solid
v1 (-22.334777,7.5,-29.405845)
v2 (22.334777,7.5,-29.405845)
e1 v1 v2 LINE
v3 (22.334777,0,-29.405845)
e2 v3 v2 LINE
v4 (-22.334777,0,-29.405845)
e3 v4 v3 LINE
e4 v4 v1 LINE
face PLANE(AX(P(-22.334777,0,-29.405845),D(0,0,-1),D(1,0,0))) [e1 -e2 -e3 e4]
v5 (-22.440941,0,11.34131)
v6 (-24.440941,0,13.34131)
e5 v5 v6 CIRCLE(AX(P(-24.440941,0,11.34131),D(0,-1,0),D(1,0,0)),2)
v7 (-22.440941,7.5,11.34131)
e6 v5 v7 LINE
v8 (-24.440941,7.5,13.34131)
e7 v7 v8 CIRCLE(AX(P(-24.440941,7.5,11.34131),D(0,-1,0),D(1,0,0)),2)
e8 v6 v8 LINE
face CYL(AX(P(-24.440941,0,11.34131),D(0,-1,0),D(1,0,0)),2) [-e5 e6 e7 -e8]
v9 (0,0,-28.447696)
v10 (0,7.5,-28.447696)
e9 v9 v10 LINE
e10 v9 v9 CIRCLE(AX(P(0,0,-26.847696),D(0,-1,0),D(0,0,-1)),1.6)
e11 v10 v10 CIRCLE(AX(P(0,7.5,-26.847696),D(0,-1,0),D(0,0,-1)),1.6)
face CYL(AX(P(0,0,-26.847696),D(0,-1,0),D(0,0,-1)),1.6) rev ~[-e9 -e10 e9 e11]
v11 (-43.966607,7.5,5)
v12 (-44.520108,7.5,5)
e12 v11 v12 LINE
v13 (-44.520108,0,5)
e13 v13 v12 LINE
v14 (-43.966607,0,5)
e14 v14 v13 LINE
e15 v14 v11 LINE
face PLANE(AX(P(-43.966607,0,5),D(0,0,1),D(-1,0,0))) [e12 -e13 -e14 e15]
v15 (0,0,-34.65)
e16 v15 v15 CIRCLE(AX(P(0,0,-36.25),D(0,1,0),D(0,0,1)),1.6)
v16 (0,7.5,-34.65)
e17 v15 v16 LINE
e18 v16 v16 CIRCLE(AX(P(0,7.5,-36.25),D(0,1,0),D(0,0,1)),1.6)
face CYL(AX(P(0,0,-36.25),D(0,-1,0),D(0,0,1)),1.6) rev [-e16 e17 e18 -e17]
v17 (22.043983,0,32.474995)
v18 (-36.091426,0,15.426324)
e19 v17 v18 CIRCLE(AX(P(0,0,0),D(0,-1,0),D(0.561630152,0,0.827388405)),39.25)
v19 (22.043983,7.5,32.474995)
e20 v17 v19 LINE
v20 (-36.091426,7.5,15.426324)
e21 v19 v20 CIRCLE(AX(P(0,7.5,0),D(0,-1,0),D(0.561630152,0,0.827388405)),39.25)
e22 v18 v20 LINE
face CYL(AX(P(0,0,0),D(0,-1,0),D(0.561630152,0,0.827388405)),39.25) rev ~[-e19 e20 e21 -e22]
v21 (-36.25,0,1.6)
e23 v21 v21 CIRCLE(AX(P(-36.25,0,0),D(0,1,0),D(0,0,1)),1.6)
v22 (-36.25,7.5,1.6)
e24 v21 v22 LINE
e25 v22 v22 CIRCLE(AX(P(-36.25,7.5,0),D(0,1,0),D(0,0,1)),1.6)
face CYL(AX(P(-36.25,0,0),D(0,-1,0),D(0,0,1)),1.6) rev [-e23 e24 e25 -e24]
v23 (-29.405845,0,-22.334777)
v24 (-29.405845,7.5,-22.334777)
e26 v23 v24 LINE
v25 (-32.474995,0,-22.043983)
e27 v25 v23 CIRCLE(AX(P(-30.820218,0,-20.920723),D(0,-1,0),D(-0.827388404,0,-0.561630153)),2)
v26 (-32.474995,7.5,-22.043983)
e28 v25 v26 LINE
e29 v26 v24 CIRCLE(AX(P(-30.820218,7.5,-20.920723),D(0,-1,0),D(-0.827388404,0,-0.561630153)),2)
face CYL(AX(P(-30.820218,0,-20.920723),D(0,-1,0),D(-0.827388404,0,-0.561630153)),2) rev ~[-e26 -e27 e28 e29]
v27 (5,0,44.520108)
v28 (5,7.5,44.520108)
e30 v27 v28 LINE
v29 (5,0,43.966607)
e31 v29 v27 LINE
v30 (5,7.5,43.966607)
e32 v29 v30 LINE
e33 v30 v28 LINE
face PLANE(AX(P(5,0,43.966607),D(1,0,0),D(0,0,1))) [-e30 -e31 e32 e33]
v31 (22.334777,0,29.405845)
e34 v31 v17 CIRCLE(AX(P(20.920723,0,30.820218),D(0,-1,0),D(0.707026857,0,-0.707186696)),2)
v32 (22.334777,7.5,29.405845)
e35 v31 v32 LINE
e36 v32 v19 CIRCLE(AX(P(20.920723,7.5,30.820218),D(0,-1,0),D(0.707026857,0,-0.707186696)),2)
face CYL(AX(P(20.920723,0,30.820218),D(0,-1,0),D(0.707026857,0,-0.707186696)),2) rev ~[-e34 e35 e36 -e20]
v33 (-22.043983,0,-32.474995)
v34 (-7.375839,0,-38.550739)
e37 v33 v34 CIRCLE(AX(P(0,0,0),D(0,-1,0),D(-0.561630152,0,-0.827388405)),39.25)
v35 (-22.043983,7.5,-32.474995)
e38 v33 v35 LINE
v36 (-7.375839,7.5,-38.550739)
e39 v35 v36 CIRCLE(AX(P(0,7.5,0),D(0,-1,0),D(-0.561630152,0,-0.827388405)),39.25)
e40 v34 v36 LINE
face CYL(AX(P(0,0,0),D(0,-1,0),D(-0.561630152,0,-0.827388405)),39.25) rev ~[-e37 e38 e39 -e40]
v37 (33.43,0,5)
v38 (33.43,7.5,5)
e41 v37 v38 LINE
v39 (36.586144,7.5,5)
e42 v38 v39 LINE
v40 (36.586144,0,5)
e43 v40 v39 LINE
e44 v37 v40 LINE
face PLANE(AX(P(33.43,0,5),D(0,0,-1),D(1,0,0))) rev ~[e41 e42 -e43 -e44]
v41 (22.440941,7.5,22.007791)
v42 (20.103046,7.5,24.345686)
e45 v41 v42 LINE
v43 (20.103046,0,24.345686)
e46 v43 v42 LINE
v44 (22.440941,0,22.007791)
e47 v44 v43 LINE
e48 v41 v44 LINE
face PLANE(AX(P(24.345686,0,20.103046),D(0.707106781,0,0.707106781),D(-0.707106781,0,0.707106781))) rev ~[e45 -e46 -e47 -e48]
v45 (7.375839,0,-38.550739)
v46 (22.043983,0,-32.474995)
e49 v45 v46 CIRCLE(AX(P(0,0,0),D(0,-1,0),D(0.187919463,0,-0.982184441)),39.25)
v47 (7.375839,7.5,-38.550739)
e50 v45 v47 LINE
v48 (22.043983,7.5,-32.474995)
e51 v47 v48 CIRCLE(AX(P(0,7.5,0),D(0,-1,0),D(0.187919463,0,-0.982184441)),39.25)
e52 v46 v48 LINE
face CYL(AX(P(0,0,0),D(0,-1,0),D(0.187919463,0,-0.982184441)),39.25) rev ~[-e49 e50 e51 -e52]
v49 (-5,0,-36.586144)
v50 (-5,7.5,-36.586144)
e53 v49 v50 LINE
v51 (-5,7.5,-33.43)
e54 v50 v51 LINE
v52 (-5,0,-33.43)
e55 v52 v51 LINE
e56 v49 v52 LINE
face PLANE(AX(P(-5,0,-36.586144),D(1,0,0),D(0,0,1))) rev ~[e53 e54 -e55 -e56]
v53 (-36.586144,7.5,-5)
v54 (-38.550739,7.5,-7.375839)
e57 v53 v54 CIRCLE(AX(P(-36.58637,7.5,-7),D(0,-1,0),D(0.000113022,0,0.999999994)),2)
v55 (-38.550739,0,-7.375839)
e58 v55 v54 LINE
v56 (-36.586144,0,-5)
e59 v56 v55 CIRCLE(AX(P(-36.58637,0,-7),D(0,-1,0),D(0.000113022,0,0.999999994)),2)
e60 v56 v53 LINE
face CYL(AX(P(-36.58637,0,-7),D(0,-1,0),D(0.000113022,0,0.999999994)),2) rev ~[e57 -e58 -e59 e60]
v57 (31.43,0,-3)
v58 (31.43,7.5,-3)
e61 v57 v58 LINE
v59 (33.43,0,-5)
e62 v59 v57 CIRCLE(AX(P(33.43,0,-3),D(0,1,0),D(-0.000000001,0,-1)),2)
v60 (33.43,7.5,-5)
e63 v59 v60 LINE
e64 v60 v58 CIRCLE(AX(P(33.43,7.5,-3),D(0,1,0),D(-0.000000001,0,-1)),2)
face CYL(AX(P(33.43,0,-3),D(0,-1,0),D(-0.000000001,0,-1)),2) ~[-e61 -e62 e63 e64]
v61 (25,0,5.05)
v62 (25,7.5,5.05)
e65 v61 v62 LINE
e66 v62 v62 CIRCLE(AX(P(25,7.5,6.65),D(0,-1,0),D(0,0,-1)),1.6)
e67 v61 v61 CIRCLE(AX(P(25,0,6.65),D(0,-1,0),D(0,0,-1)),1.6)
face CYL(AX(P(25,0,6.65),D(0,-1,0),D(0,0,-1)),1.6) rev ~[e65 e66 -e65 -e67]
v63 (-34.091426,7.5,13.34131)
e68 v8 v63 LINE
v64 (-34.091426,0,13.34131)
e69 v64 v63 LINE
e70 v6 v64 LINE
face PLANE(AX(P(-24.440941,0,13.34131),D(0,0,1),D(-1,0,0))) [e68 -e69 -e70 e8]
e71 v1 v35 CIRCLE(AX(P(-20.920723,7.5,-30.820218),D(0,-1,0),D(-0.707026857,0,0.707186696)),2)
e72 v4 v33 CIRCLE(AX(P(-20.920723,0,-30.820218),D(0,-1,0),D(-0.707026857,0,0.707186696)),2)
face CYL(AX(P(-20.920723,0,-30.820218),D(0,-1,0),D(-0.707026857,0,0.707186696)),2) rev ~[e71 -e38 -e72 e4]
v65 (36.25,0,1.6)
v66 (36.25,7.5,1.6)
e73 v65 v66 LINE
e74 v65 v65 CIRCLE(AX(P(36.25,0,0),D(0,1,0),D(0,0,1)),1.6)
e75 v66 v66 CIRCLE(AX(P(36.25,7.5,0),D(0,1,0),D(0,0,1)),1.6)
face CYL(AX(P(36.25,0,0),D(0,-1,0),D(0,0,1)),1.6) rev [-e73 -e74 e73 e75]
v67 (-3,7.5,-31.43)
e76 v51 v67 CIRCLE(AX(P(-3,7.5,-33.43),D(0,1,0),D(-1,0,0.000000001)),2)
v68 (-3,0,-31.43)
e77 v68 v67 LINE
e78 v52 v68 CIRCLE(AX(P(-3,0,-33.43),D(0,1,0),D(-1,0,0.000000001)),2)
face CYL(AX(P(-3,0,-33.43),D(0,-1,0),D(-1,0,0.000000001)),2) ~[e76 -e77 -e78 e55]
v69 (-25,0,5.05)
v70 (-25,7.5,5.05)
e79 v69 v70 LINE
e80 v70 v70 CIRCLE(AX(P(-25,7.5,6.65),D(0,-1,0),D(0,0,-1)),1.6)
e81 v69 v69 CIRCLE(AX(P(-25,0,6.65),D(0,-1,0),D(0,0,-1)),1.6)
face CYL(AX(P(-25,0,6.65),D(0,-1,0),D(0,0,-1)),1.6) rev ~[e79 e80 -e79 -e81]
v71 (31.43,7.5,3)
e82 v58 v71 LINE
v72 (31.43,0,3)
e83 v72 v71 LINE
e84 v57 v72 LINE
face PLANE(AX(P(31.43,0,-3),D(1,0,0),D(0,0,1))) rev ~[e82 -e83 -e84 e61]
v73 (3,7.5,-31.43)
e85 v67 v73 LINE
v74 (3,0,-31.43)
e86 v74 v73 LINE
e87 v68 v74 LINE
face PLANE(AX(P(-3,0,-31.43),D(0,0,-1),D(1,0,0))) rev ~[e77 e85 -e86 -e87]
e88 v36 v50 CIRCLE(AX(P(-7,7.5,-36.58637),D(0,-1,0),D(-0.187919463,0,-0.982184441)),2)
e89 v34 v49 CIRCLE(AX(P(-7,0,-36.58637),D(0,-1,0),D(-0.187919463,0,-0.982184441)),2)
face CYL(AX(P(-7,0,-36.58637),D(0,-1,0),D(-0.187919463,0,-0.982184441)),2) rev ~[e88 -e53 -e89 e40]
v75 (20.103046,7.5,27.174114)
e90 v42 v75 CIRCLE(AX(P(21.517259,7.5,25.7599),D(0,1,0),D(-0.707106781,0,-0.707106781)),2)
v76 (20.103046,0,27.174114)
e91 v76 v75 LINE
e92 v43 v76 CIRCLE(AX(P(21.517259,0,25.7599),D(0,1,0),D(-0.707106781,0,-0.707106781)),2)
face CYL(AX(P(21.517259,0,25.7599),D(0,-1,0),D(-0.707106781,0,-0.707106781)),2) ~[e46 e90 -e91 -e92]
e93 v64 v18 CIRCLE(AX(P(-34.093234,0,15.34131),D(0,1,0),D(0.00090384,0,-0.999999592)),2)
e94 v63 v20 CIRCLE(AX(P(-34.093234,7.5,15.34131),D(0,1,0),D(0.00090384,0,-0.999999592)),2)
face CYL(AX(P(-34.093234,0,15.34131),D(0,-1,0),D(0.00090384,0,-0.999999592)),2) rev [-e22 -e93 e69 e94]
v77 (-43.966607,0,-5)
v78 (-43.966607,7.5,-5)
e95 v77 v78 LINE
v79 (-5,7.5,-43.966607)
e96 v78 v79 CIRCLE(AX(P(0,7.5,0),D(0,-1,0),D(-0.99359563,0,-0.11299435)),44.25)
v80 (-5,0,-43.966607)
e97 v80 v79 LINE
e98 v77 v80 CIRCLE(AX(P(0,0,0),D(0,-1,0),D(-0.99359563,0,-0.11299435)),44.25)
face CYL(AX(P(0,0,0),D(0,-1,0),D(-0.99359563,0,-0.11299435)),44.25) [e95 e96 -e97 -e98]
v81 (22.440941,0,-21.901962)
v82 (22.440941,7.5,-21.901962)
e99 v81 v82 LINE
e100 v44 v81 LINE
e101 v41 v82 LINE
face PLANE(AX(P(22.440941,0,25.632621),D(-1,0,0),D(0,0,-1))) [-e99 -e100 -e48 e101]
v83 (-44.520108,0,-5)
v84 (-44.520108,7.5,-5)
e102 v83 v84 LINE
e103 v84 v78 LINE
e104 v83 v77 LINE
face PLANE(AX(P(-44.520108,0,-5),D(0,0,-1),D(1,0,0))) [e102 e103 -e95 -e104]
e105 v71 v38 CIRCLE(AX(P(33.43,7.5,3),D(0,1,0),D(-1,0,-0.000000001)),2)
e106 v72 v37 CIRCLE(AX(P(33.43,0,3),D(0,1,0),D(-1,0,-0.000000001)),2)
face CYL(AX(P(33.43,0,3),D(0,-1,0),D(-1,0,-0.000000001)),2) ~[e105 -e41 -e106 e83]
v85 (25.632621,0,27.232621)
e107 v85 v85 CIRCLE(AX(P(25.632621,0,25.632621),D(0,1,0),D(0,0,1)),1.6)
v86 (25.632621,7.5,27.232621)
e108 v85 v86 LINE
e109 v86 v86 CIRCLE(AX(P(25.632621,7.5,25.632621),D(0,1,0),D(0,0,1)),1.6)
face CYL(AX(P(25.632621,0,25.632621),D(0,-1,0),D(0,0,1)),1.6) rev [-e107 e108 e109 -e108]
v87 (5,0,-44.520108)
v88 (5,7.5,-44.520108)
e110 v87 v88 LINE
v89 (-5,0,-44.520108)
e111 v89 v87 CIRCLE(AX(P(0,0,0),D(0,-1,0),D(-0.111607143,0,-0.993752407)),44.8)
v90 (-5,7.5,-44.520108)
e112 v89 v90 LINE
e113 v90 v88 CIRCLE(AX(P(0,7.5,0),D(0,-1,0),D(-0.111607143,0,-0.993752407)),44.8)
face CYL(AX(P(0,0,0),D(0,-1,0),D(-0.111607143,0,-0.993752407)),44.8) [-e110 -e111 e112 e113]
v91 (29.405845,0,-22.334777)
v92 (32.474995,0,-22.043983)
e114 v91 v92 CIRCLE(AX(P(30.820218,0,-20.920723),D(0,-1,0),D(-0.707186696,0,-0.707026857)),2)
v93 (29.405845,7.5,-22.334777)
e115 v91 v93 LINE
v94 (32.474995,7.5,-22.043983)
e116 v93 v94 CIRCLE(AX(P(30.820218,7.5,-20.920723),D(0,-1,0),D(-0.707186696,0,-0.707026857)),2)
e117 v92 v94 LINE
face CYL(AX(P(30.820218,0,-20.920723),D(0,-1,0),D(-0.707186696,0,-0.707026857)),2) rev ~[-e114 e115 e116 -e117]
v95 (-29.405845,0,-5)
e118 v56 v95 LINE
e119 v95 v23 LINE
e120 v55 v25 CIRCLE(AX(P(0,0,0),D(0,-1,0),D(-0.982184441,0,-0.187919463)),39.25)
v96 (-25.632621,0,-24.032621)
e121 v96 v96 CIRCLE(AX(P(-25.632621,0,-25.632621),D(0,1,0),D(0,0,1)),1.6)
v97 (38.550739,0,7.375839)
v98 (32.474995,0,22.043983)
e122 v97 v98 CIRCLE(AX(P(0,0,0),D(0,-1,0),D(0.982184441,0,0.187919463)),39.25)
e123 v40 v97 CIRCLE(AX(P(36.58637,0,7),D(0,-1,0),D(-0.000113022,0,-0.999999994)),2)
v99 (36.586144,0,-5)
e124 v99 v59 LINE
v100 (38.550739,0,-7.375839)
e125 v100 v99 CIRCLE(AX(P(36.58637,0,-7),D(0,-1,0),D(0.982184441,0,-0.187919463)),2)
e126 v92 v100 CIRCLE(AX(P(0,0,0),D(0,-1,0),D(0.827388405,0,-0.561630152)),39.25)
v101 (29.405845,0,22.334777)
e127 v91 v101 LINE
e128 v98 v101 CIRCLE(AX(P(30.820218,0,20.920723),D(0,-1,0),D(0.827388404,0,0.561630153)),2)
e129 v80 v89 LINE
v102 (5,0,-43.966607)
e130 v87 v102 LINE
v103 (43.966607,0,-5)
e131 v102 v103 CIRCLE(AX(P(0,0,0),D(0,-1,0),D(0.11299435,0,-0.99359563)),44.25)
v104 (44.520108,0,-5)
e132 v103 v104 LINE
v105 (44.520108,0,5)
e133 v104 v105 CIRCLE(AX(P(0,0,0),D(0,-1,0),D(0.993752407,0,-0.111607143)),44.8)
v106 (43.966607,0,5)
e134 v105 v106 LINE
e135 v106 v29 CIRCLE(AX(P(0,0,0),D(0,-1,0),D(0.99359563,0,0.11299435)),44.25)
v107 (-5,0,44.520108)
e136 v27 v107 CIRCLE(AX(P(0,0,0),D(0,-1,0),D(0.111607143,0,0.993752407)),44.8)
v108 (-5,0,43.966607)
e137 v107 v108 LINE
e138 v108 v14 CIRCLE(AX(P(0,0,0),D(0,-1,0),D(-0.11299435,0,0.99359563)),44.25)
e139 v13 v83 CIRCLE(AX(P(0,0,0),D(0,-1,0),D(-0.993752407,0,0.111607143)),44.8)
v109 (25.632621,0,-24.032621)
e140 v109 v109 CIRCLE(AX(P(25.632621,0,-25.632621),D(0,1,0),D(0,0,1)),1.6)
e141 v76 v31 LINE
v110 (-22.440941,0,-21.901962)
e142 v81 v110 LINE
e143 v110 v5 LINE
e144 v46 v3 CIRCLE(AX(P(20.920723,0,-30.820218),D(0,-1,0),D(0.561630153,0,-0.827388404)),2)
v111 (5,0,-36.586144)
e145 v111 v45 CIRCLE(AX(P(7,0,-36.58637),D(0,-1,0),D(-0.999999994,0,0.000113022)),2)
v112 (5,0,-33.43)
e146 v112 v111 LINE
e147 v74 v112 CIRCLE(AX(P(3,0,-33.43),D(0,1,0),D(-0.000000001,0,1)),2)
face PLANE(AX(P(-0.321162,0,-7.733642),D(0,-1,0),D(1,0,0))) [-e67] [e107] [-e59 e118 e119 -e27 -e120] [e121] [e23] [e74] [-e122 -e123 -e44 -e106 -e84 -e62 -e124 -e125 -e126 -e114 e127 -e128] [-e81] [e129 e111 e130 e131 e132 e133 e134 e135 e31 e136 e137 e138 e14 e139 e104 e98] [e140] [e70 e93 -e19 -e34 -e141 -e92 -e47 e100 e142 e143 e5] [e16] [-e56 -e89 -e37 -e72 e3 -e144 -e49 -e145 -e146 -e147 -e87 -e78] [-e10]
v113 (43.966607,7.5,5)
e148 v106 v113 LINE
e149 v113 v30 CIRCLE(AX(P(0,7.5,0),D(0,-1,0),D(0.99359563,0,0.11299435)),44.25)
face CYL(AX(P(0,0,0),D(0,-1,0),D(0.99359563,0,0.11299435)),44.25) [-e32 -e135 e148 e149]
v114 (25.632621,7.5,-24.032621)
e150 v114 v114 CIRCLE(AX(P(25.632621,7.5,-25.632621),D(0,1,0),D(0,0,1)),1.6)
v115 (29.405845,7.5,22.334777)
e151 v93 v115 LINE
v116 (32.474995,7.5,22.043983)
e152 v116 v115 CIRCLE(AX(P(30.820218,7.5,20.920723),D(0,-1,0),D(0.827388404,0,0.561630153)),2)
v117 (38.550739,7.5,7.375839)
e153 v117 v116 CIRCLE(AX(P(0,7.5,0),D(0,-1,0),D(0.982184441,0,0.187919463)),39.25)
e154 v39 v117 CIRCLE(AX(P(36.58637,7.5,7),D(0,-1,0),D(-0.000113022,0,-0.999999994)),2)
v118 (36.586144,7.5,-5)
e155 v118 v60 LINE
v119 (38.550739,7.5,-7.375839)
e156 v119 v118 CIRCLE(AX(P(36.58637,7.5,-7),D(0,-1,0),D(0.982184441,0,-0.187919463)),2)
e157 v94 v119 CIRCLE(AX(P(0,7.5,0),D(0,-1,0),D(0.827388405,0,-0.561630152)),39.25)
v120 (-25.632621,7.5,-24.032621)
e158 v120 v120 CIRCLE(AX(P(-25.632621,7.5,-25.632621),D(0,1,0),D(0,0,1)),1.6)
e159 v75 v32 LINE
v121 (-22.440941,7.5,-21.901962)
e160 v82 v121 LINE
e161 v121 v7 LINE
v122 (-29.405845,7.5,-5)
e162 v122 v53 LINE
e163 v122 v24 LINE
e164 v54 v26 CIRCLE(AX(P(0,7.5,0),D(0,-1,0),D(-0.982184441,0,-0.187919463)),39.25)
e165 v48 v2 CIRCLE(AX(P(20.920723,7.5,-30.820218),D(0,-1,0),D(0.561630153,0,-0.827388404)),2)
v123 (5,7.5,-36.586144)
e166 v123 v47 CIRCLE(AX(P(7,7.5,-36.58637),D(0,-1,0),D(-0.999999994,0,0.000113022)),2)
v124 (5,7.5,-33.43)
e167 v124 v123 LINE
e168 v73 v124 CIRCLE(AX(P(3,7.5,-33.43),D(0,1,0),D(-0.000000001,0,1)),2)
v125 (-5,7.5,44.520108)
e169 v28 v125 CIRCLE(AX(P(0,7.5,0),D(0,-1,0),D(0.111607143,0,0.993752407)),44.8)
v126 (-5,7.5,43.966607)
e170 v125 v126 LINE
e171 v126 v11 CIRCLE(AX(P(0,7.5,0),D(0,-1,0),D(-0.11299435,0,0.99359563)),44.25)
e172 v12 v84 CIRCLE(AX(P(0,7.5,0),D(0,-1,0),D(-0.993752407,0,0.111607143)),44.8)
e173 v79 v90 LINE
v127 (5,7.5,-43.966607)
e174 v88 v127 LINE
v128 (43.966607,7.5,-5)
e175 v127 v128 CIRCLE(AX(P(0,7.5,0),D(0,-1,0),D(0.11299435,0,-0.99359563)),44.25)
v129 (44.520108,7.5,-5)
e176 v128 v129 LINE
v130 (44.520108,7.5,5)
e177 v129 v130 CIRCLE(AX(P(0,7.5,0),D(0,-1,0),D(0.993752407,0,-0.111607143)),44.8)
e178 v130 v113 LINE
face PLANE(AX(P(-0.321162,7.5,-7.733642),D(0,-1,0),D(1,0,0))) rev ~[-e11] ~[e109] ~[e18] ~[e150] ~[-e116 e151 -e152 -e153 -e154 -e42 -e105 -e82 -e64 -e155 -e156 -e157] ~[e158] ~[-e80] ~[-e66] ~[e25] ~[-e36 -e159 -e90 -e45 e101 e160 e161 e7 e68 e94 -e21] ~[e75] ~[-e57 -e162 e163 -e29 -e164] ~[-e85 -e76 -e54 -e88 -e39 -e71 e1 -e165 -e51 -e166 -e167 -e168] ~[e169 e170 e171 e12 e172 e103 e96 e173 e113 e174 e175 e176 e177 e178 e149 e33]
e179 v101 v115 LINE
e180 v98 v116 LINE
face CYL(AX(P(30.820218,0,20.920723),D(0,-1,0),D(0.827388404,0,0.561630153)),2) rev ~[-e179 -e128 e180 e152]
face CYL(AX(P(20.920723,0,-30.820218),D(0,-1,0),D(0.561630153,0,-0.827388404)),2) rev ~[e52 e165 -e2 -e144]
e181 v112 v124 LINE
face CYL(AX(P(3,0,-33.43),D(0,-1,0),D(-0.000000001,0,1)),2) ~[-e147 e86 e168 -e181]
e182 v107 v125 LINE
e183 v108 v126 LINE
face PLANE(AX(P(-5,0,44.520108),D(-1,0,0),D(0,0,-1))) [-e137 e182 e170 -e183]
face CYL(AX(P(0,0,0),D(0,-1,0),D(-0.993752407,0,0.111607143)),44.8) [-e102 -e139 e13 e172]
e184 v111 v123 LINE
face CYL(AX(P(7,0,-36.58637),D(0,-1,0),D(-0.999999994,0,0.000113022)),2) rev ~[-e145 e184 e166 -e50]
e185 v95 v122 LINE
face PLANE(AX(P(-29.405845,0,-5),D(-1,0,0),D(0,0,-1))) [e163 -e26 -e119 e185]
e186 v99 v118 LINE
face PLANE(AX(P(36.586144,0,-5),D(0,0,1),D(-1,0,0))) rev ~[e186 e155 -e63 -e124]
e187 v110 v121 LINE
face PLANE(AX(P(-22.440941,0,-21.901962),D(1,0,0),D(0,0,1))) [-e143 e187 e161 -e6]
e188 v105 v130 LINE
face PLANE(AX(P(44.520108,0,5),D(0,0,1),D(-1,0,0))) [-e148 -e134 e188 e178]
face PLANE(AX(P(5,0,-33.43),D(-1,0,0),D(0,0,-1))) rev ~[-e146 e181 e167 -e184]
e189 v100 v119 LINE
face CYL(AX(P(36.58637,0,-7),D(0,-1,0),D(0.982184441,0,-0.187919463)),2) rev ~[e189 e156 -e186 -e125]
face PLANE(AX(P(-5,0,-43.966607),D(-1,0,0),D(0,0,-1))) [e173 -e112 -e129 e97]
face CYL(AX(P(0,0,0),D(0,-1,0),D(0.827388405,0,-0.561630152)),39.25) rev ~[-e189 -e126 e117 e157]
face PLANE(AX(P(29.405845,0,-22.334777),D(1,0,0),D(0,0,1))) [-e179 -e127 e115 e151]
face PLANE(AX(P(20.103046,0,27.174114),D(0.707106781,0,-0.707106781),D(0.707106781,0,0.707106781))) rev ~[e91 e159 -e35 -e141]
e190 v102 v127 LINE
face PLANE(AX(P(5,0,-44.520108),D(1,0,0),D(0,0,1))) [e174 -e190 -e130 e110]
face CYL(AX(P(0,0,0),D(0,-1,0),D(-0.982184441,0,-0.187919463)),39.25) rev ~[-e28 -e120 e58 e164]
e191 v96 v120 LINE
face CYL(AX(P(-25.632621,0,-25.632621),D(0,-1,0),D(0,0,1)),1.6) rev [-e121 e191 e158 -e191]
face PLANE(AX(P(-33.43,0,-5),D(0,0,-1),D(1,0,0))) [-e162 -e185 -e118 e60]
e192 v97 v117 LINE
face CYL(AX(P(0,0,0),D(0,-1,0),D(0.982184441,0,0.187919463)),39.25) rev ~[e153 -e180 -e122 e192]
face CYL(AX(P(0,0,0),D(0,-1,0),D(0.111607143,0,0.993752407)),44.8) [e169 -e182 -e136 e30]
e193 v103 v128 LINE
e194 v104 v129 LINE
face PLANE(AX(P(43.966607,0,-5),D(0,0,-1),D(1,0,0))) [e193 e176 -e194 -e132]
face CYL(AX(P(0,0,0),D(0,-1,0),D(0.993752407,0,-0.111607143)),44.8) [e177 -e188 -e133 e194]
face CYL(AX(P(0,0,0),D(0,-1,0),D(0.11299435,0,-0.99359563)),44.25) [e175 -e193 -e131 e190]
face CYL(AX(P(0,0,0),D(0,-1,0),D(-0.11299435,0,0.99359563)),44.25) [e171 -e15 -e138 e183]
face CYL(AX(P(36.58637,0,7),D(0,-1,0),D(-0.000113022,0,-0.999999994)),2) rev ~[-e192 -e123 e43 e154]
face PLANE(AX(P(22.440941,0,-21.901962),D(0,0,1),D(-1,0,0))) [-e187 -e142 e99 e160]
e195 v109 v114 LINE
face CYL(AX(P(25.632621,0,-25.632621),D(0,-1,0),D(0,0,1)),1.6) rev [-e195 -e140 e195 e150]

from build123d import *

# Parameters (mm, degrees)
SKETCH2_R           = 1.6
BOSS_EXTRUDE2_DEPTH = 7.5
SKETCH3_R           = 1.6
BOSS_EXTRUDE3_DEPTH = 7.5


with BuildPart() as part:
    # Sketch2 → Boss-Extrude2 (new body)
    with BuildSketch(Plane(origin=(0, 0, 0), x_dir=(1, 0, 0), z_dir=(0, 1, 0))):
        with BuildLine():
            Line((43.966606646, 5), (44.520107816, 5))
            ThreePointArc((44.520107816, 5), (44.8, 0), (44.520107816, -5))
            Line((44.520107816, -5), (43.966606646, -5))
            ThreePointArc((43.966606646, -5), (31.289475067, -31.289475068), (5, -43.966606646))
            Line((5, -43.966606646), (5, -44.520107816))
            ThreePointArc((5, -44.520107816), (0, -44.8), (-5, -44.520107816))
            Line((-5, -44.520107816), (-5, -43.966606646))
            ThreePointArc((-5, -43.966606646), (-31.289475068, -31.289475067), (-43.966606646, -5))
            Line((-43.966606646, -5), (-44.520107816, -5))
            ThreePointArc((-44.520107816, -5), (-44.8, 0), (-44.520107816, 5))
            Line((-44.520107816, 5), (-43.966606646, 5))
            ThreePointArc((-43.966606646, 5), (-31.289475067, 31.289475068), (-5, 43.966606646))
            Line((-5, 43.966606646), (-5, 44.520107816))
            ThreePointArc((-5, 44.520107816), (0, 44.8), (5, 44.520107816))
            Line((5, 44.520107816), (5, 43.966606646))
            ThreePointArc((5, 43.966606646), (31.289475068, 31.289475067), (43.966606646, 5))
        make_face()
        with Locations(Location((36.25, 0, 0), (0, 0, 270))):
            Circle(SKETCH2_R, mode=Mode.SUBTRACT)
        with Locations(Location((25.632620818, -25.632620818, 0), (0, 0, 270))):
            Circle(SKETCH2_R, mode=Mode.SUBTRACT)
        with Locations(Location((-36.25, 0, 0), (0, 0, 270))):
            Circle(SKETCH2_R, mode=Mode.SUBTRACT)
        with Locations(Location((-25.632620818, 25.632620818, 0), (0, 0, 270))):
            Circle(SKETCH2_R, mode=Mode.SUBTRACT)
        with Locations(Location((0, 36.25, 0), (0, 0, 270))):
            Circle(SKETCH2_R, mode=Mode.SUBTRACT)
        with Locations(Location((25.632620818, 25.632620818, 0), (0, 0, 270))):
            Circle(SKETCH2_R, mode=Mode.SUBTRACT)
        with BuildLine():
            Line((31.43, 3), (31.43, -3))
            ThreePointArc((31.43, -3), (32.015786437, -4.414213563), (33.43, -5))
            Line((33.43, -5), (36.58614437, -5))
            ThreePointArc((36.58614437, -5), (38.127674053, -5.725487102), (38.550739297, -7.375838913))
            ThreePointArc((38.550739297, -7.375838913), (36.262271651, -15.02032472), (32.474994889, -22.043983464))
            ThreePointArc((32.474994889, -22.043983464), (31.00886763, -22.911806118), (29.405844687, -22.334776876))
            Line((29.405844687, -22.334776876), (27.174113601, -20.103045789))
            ThreePointArc((27.174113601, -20.103045789), (25.759900039, -19.517259351), (24.345686476, -20.103045789))
            Line((24.345686476, -20.103045789), (20.103045789, -24.345686476))
            ThreePointArc((20.103045789, -24.345686476), (19.517259351, -25.759900039), (20.103045789, -27.174113601))
            Line((20.103045789, -27.174113601), (22.334776875, -29.405844688))
            ThreePointArc((22.334776875, -29.405844688), (22.911806119, -31.00886763), (22.043983464, -32.474994889))
            ThreePointArc((22.043983464, -32.474994889), (-15.02032472, -36.262271651), (-38.550739297, -7.375838914))
            ThreePointArc((-38.550739297, -7.375838914), (-38.127674054, -5.725487102), (-36.58614437, -5))
            Line((-36.58614437, -5), (-33.43, -5))
            ThreePointArc((-33.43, -5), (-32.015786438, -4.414213562), (-31.43, -3))
            Line((-31.43, -3), (-31.43, 3))
            ThreePointArc((-31.43, 3), (-32.015786437, 4.414213563), (-33.43, 5))
            Line((-33.43, 5), (-36.58614437, 5))
            ThreePointArc((-36.58614437, 5), (-38.127674053, 5.725487102), (-38.550739297, 7.375838913))
            ThreePointArc((-38.550739297, 7.375838913), (-36.262271651, 15.02032472), (-32.474994889, 22.043983464))
            ThreePointArc((-32.474994889, 22.043983464), (-31.00886763, 22.911806118), (-29.405844687, 22.334776876))
            Line((-29.405844687, 22.334776876), (-27.174113601, 20.103045789))
            ThreePointArc((-27.174113601, 20.103045789), (-25.759900039, 19.517259351), (-24.345686476, 20.103045789))
            Line((-24.345686476, 20.103045789), (-20.103045789, 24.345686476))
            ThreePointArc((-20.103045789, 24.345686476), (-19.517259351, 25.759900039), (-20.103045789, 27.174113601))
            Line((-20.103045789, 27.174113601), (-22.334776875, 29.405844688))
            ThreePointArc((-22.334776875, 29.405844688), (-22.911806119, 31.00886763), (-22.043983464, 32.474994889))
            ThreePointArc((-22.043983464, 32.474994889), (-15.020324721, 36.262271651), (-7.375838914, 38.550739297))
            ThreePointArc((-7.375838914, 38.550739297), (-5.725487102, 38.127674054), (-5, 36.58614437))
            Line((-5, 36.58614437), (-5, 33.43))
            ThreePointArc((-5, 33.43), (-4.414213562, 32.015786438), (-3, 31.43))
            Line((-3, 31.43), (3, 31.43))
            ThreePointArc((3, 31.43), (4.414213563, 32.015786437), (5, 33.43))
            Line((5, 33.43), (5, 36.58614437))
            ThreePointArc((5, 36.58614437), (5.725487102, 38.127674053), (7.375838913, 38.550739297))
            ThreePointArc((7.375838913, 38.550739297), (15.02032472, 36.262271651), (22.043983464, 32.474994889))
            ThreePointArc((22.043983464, 32.474994889), (22.911806118, 31.00886763), (22.334776876, 29.405844687))
            Line((22.334776876, 29.405844687), (20.103045789, 27.174113601))
            ThreePointArc((20.103045789, 27.174113601), (19.517259351, 25.759900039), (20.103045789, 24.345686476))
            Line((20.103045789, 24.345686476), (24.345686476, 20.103045789))
            ThreePointArc((24.345686476, 20.103045789), (25.759900039, 19.517259351), (27.174113601, 20.103045789))
            Line((27.174113601, 20.103045789), (29.405844688, 22.334776875))
            ThreePointArc((29.405844688, 22.334776875), (31.00886763, 22.911806119), (32.474994889, 22.043983464))
            ThreePointArc((32.474994889, 22.043983464), (36.262271651, 15.020324721), (38.550739297, 7.375838914))
            ThreePointArc((38.550739297, 7.375838914), (38.127674054, 5.725487102), (36.58614437, 5))
            Line((36.58614437, 5), (33.43, 5))
            ThreePointArc((33.43, 5), (32.015786438, 4.414213562), (31.43, 3))
        make_face(mode=Mode.SUBTRACT)
    extrude(amount=BOSS_EXTRUDE2_DEPTH)

    # Sketch3 → Boss-Extrude3 (add)
    with BuildSketch(Plane.XZ):
        with BuildLine():
            Line((22.440941356, -21.901962064), (-22.440941356, -21.901962064))
            Line((-22.440941356, -21.901962064), (-22.440941356, 6.65))
            Line((-22.440941356, 6.65), (-22.440941356, 11.341310409))
            ThreePointArc((-22.440941356, 11.341310409), (-23.026727793, 12.755523971), (-24.440941356, 13.341310409))
            Line((-24.440941356, 13.341310409), (-29.405844687, 13.341310409))
            Line((-29.405844687, 13.341310409), (-34.091425962, 13.341310409))
            ThreePointArc((-34.091425962, 13.341310409), (-35.536566009, 13.956827134), (-36.091425962, 15.426323995))
            Line((-36.091425962, 15.426323995), (-39.579540156, 15.426323995))
            Line((-39.579540156, 15.426323995), (-39.579540156, 13.341310409))
            Line((-39.579540156, 13.341310409), (-39.579540156, 3.405536176))
            Line((-39.579540156, 3.405536176), (-33.43, 3.405536176))
            Line((-33.43, 3.405536176), (-33.43, -5))
            Line((-33.43, -5), (-29.405844687, -5))
            Line((-29.405844687, -5), (-29.405844687, -22.334776876))
            Line((-29.405844687, -22.334776876), (-29.405844687, -29.405844688))
            Line((-29.405844687, -29.405844688), (-22.334776875, -29.405844688))
            Line((-22.334776875, -29.405844688), (22.334776876, -29.405844687))
            Line((22.334776876, -29.405844687), (29.405844688, -29.405844688))
            Line((29.405844688, -29.405844688), (29.405844688, -22.334776875))
            Line((29.405844688, -22.334776875), (29.405844687, 22.334776876))
            Line((29.405844687, 22.334776876), (29.405844688, 29.405844687))
            Line((29.405844688, 29.405844687), (23.434556913, 29.405844687))
            Line((23.434556913, 29.405844687), (23.434556913, 25.632620817))
            Line((23.434556913, 25.632620817), (22.440941356, 25.632620817))
            Line((22.440941356, 25.632620817), (22.440941356, 24.032620818))
            Line((22.440941356, 24.032620818), (22.440941356, -21.901962064))
        make_face()
        with Locations(Location((0, -26.847695671, 0), (0, 0, 270))):
            Circle(SKETCH3_R, mode=Mode.SUBTRACT)
        with Locations(Location((-25, 6.65, 0), (0, 0, 270))):
            Circle(SKETCH3_R, mode=Mode.SUBTRACT)
        with Locations(Location((25, 6.65, 0), (0, 0, 270))):
            Circle(SKETCH3_R, mode=Mode.SUBTRACT)
        with Locations(Location((25.632620818, 25.632620818, 0), (0, 0, 90))):
            Circle(SKETCH3_R, mode=Mode.SUBTRACT)
        with Locations(Location((-25.632620818, -25.632620818, 0), (0, 0, 90))):
            Circle(SKETCH3_R, mode=Mode.SUBTRACT)
        with Locations(Location((25.632620818, -25.632620818, 0), (0, 0, 90))):
            Circle(SKETCH3_R, mode=Mode.SUBTRACT)
    extrude(amount=-BOSS_EXTRUDE3_DEPTH)


solid = part.part
